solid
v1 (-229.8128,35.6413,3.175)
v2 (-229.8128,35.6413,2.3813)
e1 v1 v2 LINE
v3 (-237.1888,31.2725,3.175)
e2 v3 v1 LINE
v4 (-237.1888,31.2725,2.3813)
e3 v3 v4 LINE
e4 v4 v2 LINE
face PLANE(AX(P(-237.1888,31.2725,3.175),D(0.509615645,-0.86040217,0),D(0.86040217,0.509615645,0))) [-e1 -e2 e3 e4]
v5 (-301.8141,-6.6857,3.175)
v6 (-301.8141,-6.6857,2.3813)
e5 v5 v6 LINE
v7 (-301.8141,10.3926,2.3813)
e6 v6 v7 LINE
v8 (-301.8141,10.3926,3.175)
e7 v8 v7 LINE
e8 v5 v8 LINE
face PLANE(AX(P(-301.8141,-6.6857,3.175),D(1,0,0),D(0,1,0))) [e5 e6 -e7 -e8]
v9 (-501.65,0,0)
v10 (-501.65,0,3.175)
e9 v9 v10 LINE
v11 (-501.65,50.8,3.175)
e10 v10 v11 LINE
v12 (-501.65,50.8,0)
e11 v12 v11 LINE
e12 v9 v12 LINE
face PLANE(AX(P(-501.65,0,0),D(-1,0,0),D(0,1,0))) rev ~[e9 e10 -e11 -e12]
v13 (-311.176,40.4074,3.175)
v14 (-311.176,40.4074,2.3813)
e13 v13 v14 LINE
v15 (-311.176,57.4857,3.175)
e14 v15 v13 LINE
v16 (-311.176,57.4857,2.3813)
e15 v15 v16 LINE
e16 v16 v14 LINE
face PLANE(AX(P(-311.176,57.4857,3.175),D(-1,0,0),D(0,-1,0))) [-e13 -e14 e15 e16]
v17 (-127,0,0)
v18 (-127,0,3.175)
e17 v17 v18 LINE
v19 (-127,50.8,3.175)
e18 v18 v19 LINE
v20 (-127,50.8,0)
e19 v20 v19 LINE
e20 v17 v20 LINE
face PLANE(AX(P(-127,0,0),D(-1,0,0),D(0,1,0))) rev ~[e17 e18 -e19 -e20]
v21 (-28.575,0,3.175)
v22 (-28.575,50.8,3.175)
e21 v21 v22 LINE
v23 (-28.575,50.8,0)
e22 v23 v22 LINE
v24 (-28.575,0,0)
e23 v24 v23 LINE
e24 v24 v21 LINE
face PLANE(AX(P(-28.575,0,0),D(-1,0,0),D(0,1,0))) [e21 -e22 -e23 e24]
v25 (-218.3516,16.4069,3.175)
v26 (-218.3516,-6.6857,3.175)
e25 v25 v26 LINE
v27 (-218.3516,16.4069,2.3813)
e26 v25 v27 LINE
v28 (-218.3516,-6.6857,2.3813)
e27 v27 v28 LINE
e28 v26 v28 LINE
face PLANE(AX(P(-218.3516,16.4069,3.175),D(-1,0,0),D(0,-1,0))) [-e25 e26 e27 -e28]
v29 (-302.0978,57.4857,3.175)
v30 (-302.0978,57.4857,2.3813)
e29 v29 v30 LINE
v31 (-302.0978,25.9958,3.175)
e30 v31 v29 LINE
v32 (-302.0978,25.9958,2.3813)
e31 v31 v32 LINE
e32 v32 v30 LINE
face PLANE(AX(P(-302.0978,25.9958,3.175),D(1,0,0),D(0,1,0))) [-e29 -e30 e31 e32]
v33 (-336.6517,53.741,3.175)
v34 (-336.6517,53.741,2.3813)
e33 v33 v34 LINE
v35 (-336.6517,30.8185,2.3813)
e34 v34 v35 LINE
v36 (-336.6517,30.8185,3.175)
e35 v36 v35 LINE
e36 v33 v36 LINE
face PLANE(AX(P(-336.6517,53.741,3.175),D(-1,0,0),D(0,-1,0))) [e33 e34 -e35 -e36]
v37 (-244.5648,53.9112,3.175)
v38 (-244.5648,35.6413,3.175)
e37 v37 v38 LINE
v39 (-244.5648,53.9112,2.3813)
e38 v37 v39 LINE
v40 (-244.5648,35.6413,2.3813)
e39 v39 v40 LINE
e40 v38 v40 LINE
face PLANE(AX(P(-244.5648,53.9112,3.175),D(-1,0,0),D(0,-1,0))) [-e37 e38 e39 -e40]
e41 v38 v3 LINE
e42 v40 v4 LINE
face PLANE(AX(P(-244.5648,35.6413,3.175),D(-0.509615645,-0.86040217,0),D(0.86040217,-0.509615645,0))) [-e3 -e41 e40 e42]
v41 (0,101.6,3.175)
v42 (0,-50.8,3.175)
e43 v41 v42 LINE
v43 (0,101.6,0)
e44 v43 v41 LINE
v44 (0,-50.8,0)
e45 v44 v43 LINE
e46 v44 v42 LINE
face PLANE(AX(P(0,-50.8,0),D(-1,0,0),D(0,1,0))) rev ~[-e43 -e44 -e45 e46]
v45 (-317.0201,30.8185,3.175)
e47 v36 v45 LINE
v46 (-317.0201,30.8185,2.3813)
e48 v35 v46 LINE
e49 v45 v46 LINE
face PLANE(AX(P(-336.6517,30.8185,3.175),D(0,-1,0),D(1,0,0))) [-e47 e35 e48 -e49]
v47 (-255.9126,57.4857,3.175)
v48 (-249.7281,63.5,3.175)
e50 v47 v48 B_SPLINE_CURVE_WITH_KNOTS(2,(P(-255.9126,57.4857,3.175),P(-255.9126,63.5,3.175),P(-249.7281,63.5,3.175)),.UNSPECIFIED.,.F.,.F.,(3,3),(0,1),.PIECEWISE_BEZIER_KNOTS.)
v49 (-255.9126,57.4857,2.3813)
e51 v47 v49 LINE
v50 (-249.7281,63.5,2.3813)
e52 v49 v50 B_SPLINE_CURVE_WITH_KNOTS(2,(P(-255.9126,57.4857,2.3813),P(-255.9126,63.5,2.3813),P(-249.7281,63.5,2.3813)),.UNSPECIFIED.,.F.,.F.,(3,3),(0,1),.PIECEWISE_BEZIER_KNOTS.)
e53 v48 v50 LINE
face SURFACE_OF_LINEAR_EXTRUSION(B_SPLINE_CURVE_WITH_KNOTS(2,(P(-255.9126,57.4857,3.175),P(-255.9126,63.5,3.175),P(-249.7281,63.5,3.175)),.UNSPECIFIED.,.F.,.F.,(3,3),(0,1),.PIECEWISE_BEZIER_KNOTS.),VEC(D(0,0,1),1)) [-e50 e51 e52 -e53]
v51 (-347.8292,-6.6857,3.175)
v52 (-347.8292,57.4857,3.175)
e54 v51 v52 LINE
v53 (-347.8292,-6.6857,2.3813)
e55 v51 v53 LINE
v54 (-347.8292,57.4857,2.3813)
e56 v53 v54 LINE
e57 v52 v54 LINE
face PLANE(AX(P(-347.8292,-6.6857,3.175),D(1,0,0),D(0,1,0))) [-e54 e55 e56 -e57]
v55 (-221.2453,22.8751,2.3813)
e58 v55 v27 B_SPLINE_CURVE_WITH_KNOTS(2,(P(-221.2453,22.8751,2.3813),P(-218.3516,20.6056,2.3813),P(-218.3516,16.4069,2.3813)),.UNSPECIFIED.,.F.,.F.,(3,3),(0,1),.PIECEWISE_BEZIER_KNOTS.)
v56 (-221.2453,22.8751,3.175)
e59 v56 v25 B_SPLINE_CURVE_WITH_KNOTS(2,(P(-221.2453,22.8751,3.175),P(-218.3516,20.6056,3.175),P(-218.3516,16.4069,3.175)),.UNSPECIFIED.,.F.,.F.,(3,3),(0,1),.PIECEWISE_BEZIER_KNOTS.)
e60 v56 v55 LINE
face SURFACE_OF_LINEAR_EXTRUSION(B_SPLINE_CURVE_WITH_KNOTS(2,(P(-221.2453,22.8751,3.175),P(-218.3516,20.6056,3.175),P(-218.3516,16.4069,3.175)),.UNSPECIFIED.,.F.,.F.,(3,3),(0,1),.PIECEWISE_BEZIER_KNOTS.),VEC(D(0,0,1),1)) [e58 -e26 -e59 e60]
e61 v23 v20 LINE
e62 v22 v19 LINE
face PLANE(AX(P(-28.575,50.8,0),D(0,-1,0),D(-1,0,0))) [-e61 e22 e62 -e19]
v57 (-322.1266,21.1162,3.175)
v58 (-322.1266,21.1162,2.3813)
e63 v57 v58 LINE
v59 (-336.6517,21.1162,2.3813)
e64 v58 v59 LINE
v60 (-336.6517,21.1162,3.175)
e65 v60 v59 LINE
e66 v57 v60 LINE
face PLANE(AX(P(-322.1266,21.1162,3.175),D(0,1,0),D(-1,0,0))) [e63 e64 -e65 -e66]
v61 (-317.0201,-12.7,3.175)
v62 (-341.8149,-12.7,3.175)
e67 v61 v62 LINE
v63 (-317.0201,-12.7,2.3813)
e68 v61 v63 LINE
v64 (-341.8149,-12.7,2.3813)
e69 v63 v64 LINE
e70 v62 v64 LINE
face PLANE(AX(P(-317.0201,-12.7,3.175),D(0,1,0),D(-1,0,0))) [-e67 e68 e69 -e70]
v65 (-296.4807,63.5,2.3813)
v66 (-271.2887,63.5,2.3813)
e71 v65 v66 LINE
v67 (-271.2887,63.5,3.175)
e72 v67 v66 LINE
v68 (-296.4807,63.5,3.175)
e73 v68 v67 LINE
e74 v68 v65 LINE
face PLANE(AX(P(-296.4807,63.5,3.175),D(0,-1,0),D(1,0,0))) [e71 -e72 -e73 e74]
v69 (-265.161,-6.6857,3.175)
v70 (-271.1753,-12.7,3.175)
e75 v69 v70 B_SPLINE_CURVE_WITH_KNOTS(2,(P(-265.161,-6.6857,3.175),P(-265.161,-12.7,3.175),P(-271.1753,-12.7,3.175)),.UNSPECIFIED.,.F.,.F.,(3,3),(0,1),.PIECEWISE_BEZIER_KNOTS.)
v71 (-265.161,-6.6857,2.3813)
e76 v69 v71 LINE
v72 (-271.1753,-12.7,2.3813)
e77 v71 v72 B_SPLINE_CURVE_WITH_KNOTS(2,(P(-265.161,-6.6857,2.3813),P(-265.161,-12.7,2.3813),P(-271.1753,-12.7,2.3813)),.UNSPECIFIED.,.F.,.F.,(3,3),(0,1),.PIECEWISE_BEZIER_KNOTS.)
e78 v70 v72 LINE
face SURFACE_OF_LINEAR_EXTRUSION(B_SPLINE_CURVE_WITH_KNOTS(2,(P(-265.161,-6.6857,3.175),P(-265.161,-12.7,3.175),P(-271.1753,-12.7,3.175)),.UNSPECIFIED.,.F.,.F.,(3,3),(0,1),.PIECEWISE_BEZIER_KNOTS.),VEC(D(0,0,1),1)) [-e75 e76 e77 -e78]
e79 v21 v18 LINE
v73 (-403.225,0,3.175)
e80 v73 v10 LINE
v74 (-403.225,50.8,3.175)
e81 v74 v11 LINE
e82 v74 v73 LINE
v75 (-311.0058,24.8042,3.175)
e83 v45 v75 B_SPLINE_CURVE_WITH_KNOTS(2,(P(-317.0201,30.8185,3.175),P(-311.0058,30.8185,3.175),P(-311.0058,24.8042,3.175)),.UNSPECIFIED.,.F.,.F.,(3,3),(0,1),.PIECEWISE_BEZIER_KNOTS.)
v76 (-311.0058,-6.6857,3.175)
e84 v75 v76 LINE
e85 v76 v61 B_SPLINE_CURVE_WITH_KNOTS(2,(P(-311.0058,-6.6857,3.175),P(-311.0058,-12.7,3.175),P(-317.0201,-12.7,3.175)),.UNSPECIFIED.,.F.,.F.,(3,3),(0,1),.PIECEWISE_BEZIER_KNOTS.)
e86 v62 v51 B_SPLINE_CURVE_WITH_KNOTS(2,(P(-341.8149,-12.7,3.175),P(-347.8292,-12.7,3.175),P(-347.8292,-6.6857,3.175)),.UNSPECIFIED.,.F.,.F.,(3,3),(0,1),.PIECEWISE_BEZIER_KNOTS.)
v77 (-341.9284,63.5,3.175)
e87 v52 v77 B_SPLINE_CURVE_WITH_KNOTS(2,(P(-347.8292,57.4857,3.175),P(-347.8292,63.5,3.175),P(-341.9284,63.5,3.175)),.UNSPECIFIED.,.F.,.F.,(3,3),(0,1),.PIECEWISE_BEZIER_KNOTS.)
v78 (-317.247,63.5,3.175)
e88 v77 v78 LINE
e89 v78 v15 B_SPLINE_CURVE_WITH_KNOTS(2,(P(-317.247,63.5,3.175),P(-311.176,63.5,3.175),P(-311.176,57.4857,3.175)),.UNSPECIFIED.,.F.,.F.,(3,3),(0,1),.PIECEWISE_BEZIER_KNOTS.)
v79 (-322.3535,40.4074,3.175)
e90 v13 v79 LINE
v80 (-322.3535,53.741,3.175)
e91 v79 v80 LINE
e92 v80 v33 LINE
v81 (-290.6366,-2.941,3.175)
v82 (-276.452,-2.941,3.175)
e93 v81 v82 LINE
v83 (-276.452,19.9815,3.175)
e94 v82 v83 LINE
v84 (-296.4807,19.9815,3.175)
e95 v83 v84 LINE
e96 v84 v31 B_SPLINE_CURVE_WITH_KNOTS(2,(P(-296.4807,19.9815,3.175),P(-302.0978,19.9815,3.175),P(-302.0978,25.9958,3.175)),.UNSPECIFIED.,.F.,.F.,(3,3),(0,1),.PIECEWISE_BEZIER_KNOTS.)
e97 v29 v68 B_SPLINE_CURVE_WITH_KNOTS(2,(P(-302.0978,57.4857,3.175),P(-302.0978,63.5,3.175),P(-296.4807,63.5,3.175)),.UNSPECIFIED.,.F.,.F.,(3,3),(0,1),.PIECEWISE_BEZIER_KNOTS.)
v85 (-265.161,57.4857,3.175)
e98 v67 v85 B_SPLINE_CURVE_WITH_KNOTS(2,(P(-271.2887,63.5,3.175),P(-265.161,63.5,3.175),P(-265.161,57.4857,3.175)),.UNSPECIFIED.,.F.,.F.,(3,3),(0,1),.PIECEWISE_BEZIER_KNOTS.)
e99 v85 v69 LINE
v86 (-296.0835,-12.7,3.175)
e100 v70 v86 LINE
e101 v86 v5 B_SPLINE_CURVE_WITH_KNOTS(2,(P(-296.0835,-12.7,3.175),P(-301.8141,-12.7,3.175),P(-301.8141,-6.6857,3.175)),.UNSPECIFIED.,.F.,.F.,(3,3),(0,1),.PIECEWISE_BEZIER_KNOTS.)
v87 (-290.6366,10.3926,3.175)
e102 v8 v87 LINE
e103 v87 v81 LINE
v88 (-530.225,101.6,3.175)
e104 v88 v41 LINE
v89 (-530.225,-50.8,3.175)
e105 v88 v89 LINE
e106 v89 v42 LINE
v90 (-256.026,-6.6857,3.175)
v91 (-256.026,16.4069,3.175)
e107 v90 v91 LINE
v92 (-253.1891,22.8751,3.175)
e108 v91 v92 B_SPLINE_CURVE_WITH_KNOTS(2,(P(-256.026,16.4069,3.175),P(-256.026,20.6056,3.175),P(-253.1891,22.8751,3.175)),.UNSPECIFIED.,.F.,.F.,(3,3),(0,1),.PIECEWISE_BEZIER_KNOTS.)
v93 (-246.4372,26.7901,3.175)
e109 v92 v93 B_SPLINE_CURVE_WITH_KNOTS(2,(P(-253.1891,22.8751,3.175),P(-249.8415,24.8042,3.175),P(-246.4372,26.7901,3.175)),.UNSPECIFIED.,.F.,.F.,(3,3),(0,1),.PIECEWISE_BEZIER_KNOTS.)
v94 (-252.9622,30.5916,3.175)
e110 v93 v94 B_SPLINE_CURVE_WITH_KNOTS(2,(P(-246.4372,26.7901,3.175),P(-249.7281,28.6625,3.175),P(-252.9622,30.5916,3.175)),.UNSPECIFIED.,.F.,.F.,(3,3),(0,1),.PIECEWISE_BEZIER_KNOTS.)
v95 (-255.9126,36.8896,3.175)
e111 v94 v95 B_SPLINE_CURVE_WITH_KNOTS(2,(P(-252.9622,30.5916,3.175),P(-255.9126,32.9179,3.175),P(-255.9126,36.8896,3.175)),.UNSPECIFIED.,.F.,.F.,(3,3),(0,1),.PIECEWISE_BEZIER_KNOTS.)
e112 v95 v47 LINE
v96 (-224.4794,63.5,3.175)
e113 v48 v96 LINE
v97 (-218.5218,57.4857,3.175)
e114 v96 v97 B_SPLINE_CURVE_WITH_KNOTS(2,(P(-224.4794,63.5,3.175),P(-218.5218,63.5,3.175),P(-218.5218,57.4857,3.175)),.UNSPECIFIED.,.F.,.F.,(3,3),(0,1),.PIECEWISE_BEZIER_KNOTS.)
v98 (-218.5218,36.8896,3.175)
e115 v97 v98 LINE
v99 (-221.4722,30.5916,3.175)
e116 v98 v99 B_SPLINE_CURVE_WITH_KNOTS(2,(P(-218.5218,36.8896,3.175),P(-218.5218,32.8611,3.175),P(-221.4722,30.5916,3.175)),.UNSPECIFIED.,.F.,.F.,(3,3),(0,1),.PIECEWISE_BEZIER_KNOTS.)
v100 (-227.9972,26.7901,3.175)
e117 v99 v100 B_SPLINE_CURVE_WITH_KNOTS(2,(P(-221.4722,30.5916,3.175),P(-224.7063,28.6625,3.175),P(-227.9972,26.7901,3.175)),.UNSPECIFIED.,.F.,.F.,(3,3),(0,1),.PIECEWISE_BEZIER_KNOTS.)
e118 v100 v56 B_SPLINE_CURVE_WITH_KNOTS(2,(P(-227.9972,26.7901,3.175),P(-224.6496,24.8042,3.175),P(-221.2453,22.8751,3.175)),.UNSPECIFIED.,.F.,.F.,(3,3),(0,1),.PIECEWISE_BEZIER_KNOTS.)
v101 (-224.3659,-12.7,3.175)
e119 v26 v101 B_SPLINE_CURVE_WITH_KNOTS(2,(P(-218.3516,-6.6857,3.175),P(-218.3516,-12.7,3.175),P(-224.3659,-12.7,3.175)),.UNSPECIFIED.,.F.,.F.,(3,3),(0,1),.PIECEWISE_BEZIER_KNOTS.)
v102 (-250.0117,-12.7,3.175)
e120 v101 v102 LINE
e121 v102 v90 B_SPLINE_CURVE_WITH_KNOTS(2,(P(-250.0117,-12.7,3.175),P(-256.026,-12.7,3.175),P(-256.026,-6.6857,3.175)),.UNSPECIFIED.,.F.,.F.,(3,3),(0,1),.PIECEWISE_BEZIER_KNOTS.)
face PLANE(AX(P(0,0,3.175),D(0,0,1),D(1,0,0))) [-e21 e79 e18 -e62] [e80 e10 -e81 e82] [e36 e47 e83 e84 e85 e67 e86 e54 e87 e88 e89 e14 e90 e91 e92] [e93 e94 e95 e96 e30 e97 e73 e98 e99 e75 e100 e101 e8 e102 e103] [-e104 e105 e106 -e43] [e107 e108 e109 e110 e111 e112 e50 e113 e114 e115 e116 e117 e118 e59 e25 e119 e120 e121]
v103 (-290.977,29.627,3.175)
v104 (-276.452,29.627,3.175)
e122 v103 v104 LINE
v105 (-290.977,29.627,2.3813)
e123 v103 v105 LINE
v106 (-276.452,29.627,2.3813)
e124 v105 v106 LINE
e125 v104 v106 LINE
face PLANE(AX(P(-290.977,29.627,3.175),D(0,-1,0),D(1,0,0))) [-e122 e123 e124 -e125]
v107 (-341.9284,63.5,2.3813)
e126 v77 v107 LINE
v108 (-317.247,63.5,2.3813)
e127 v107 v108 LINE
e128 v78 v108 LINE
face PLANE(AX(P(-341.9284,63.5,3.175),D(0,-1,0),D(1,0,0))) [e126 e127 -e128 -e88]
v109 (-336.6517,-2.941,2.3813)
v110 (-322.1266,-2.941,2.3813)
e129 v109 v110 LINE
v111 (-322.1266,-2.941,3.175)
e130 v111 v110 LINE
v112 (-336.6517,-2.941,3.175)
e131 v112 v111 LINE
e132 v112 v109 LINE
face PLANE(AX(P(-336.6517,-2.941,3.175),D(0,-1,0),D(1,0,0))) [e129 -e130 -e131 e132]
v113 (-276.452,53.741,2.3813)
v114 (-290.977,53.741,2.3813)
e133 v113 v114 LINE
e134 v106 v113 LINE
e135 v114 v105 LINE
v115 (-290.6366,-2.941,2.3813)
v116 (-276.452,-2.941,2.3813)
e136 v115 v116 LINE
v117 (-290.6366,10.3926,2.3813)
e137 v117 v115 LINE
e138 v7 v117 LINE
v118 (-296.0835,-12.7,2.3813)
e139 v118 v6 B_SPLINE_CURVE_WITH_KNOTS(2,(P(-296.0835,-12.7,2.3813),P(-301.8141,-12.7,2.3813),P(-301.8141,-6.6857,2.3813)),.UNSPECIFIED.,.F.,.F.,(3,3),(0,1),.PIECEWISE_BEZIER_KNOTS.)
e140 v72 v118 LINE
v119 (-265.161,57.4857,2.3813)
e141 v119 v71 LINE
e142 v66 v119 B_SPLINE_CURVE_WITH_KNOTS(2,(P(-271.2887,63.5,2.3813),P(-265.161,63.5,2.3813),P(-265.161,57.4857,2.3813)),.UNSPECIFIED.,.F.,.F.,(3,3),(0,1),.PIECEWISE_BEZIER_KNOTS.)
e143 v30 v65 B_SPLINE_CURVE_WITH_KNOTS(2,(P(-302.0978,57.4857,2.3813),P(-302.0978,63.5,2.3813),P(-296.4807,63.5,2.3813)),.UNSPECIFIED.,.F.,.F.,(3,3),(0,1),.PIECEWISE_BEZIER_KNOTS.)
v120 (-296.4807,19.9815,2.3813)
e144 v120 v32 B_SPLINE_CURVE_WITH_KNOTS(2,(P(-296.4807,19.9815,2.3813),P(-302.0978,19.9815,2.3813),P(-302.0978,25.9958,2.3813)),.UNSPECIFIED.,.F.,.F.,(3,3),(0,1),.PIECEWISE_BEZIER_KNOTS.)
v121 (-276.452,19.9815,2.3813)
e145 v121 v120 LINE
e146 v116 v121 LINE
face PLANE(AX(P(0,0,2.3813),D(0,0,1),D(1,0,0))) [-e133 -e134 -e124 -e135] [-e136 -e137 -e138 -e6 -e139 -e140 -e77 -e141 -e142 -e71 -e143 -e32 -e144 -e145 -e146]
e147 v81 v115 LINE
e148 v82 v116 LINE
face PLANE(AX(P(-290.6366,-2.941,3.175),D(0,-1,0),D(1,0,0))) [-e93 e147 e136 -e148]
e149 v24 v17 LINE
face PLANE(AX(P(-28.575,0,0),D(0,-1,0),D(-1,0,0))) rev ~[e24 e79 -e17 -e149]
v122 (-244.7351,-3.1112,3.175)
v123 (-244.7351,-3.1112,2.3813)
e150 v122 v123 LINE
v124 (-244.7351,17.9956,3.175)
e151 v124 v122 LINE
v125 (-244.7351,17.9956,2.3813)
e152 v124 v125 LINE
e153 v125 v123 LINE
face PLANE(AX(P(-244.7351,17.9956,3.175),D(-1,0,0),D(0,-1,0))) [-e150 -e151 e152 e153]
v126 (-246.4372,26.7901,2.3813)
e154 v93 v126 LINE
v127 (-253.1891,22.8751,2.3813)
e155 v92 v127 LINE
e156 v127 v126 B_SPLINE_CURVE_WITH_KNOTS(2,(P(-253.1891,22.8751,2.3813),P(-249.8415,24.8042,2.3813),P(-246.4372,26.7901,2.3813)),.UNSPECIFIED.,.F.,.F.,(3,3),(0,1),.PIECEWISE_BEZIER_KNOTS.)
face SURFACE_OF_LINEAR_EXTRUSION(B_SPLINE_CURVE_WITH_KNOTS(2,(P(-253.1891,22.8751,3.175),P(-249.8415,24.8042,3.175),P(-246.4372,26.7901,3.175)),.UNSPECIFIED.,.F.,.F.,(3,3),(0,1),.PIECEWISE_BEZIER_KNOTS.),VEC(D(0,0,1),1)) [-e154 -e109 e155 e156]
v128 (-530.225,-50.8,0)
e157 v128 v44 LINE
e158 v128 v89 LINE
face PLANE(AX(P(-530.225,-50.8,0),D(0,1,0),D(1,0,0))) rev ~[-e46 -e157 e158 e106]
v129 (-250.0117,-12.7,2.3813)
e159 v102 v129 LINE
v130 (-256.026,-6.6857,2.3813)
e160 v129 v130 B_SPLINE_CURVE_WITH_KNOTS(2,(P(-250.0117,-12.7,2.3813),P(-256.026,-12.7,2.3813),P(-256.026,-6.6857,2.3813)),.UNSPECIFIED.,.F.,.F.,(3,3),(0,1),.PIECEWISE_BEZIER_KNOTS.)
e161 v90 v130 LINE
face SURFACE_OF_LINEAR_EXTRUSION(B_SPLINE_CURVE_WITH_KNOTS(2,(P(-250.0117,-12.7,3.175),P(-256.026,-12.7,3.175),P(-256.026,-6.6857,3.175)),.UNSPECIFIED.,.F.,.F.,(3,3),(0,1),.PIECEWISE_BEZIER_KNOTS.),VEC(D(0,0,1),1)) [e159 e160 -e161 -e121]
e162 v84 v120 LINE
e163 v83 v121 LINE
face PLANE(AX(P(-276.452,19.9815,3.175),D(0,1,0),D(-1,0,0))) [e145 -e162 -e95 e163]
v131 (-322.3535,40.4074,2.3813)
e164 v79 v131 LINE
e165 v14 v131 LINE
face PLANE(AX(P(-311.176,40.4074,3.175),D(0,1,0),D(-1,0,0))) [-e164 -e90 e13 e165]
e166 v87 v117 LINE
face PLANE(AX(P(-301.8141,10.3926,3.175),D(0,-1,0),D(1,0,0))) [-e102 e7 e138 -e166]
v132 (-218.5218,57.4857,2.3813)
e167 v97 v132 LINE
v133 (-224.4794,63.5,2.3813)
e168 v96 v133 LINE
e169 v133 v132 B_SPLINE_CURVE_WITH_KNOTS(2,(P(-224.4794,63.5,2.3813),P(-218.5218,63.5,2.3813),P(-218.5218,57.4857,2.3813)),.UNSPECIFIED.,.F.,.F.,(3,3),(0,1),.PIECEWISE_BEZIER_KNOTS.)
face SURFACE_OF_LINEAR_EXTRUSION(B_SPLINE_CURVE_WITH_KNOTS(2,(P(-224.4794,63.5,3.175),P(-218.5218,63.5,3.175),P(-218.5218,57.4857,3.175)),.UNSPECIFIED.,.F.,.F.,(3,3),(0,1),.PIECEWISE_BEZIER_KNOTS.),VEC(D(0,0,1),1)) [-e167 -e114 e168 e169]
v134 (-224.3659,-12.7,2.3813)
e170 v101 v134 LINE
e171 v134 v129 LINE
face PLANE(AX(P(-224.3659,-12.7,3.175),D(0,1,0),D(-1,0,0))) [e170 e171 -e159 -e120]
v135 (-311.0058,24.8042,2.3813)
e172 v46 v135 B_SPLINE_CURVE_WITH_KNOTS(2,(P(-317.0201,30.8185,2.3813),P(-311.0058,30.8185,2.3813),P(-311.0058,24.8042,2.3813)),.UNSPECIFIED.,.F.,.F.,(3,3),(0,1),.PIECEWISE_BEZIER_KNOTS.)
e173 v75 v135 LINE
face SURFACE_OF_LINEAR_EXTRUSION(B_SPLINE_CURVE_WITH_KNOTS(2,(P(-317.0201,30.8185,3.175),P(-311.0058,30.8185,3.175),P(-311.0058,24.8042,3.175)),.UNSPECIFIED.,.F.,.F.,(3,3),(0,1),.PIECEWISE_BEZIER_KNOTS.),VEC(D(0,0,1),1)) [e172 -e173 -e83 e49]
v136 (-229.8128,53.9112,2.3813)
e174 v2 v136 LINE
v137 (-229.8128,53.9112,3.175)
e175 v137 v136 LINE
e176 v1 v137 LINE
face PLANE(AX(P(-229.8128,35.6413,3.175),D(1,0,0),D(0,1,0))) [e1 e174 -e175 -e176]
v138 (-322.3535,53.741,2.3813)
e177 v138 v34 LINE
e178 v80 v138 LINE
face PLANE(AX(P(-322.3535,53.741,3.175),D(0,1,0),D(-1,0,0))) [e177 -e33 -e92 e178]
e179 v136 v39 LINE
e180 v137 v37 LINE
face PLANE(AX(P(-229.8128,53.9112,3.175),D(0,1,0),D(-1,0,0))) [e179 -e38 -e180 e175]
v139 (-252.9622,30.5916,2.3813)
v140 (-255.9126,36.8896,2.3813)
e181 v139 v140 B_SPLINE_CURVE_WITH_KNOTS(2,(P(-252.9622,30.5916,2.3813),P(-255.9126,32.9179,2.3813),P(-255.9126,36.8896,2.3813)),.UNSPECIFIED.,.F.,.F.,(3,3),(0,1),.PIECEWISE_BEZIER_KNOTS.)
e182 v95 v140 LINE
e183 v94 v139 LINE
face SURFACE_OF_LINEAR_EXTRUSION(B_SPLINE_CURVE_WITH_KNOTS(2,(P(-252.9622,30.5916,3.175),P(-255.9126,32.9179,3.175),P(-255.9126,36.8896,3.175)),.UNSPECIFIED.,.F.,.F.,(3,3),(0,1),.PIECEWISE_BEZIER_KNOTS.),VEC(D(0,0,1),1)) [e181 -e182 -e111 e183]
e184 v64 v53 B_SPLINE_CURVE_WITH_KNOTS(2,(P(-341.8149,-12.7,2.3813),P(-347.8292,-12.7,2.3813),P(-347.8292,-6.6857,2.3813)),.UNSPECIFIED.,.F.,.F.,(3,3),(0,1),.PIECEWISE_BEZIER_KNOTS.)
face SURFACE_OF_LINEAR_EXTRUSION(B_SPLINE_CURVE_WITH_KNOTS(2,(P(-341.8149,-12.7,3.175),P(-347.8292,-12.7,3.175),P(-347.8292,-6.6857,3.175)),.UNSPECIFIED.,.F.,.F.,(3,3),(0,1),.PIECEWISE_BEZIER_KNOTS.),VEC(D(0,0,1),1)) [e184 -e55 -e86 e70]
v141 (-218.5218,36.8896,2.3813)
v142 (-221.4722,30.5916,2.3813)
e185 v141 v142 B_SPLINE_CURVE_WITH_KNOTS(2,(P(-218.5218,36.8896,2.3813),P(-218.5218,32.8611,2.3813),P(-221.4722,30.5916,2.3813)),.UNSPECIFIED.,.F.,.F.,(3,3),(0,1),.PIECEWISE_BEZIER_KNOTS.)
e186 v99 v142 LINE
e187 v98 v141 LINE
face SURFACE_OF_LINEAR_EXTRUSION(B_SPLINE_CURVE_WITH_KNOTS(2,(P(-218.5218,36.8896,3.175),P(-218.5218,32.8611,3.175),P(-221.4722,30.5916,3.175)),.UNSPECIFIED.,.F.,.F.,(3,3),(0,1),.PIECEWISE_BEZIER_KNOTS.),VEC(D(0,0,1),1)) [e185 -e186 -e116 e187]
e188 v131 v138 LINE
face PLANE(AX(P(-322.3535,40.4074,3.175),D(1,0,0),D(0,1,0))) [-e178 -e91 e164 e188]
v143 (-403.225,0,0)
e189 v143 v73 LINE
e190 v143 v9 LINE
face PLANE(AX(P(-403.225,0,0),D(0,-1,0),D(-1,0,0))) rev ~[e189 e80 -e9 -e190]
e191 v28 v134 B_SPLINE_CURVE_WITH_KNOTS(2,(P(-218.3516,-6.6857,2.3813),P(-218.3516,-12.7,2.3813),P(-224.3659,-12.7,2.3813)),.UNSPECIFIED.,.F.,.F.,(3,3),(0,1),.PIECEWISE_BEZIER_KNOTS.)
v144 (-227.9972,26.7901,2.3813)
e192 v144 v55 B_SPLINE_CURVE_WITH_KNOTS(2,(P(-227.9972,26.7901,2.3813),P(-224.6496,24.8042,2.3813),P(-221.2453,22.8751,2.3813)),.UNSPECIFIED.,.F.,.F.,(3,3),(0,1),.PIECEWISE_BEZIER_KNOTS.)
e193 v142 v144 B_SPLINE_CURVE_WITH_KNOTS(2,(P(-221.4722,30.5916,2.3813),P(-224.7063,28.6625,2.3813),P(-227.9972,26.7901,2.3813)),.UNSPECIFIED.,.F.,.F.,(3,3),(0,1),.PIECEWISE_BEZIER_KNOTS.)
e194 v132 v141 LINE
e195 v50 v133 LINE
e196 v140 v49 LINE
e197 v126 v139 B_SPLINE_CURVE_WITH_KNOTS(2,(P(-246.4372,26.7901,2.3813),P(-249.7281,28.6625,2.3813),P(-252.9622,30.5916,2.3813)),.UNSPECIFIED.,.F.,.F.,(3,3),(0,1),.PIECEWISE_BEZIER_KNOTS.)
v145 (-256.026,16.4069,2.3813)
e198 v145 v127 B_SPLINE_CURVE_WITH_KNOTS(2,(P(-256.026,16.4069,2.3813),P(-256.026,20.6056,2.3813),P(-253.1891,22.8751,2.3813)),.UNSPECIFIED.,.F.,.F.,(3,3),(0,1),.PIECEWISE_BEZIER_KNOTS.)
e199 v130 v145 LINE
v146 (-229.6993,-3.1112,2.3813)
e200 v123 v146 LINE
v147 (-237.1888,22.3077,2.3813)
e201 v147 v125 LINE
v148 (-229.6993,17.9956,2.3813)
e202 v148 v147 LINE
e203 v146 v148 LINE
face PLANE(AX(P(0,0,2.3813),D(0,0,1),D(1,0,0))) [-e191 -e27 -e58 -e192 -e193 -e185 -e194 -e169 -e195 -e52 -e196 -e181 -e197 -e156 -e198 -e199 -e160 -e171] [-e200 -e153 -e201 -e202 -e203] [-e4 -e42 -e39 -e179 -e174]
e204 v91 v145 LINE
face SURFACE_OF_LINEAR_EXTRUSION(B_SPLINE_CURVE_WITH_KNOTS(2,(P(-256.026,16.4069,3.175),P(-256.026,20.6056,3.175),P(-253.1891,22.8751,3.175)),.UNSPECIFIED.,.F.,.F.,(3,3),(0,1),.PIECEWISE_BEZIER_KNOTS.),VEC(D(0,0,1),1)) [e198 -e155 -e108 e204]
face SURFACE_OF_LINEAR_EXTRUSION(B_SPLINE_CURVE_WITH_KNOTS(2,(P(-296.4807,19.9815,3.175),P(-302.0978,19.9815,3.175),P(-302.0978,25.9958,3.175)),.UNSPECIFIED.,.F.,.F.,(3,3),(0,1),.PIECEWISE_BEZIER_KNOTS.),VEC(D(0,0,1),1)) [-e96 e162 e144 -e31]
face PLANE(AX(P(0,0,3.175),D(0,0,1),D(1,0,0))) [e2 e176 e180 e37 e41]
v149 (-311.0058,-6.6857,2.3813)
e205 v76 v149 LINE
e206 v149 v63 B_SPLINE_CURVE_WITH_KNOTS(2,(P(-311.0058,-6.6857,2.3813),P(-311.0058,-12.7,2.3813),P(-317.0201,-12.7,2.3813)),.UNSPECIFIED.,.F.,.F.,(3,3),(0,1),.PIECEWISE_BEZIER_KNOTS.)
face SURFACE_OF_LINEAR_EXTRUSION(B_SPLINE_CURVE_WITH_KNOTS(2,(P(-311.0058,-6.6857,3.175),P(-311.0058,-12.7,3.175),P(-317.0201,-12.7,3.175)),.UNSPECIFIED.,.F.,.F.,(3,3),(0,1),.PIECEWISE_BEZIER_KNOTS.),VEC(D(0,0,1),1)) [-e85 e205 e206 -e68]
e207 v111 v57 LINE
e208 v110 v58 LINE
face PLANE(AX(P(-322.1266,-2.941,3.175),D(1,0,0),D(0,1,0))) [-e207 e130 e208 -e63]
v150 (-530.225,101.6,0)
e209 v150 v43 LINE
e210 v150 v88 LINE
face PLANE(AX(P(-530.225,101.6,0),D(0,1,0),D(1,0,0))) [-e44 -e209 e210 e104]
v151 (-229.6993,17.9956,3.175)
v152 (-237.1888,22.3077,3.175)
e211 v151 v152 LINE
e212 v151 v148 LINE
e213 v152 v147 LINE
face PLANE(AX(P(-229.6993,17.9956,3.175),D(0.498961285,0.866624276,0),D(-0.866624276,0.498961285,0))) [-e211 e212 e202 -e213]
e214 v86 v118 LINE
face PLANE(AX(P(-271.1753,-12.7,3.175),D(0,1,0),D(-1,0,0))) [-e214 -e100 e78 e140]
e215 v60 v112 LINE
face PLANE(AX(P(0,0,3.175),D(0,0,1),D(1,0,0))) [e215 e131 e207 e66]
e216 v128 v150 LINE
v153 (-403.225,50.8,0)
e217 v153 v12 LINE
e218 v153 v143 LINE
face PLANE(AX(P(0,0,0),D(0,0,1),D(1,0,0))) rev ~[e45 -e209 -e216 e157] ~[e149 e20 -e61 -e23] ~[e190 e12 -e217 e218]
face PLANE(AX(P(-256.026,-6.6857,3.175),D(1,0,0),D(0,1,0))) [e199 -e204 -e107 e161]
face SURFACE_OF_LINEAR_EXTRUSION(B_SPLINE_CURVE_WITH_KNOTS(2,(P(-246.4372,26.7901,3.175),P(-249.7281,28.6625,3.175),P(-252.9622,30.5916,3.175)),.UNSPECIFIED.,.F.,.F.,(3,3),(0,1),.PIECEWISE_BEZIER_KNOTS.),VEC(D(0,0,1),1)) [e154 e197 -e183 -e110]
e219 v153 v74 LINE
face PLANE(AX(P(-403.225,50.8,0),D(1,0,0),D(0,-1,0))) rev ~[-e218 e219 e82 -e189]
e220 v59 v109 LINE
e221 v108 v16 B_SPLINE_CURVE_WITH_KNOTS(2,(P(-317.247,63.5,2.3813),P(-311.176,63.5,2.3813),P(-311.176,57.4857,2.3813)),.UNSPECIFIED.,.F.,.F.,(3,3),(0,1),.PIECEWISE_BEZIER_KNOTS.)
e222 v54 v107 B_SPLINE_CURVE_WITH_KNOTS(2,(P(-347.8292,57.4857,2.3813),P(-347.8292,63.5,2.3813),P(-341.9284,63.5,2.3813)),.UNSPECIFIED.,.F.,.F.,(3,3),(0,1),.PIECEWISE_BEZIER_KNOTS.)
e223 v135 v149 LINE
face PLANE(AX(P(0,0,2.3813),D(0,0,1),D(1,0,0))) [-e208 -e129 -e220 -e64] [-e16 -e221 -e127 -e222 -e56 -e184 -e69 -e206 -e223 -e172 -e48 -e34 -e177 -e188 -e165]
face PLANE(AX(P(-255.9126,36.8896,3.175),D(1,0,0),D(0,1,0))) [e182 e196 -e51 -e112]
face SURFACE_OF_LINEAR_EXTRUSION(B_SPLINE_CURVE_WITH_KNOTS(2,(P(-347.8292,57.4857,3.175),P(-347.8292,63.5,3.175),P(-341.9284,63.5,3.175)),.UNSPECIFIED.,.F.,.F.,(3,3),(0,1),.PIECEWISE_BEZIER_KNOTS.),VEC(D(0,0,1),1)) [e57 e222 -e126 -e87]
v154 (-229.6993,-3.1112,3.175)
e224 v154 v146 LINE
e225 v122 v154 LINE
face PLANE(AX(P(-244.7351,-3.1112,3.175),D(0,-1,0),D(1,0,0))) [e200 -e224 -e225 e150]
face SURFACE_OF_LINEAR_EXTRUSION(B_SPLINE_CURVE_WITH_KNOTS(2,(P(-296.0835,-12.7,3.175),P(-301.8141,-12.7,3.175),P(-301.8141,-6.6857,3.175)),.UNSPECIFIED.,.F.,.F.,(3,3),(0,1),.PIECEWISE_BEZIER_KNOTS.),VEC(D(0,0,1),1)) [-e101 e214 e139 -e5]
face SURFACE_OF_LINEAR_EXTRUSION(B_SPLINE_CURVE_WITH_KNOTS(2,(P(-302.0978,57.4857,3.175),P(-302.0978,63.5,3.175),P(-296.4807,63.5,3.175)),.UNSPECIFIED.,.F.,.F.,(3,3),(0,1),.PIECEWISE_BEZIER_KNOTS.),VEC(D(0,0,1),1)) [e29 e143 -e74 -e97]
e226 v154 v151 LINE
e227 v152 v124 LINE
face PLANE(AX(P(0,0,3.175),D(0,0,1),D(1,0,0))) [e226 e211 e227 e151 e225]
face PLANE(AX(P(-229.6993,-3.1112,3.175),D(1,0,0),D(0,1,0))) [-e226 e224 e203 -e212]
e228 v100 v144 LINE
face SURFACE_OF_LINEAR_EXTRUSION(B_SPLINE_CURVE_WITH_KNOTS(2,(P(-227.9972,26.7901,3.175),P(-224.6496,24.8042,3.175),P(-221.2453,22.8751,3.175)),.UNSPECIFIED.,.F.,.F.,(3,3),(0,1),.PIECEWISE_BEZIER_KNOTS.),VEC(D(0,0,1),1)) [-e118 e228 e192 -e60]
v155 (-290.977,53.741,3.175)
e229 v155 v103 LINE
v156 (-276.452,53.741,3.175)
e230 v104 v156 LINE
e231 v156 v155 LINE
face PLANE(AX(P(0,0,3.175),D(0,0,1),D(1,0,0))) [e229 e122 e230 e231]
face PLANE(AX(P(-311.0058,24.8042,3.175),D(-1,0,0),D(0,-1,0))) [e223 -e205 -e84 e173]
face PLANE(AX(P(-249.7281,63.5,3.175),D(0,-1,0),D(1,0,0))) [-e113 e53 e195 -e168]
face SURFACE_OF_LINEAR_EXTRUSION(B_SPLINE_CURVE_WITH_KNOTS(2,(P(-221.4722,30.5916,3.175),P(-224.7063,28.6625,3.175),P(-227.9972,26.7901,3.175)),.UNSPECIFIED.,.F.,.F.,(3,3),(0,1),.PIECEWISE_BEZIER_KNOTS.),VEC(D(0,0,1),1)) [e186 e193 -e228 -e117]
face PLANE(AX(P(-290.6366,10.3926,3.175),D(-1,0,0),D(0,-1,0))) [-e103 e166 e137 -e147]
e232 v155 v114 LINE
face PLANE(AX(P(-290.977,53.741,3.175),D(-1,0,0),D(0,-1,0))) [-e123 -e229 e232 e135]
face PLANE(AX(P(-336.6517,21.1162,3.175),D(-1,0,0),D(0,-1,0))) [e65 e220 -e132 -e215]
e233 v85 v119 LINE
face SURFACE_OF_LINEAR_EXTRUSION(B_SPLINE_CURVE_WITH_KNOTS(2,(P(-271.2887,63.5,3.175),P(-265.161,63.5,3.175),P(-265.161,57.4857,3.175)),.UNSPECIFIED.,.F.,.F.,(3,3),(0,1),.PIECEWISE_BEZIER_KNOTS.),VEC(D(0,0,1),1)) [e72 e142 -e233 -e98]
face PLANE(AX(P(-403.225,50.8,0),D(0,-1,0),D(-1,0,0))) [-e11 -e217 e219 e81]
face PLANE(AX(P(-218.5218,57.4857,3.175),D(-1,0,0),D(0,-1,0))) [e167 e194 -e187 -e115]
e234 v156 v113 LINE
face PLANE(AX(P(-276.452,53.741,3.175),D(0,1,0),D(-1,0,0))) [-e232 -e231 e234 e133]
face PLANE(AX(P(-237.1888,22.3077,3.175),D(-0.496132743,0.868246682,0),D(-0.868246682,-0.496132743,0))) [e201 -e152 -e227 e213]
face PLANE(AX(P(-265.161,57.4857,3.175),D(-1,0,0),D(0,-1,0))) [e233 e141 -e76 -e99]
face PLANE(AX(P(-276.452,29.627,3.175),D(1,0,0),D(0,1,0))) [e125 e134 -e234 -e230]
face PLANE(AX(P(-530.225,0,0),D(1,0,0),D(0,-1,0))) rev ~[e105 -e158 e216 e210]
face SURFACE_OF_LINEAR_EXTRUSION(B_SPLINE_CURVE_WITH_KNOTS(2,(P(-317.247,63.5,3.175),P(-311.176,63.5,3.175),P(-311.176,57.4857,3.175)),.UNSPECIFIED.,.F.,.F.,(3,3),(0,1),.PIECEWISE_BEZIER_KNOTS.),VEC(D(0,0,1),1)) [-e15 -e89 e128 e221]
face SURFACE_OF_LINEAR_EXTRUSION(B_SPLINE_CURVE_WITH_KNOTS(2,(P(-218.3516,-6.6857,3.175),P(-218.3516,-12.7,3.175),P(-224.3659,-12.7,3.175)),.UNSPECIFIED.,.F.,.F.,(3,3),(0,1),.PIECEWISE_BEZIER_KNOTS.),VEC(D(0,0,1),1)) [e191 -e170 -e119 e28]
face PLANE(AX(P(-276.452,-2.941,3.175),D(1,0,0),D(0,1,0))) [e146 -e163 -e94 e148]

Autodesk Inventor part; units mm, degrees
ref_plane "YZ Plane" through (0, 0, 0) normal (1, 0, 0) x (0, 1, 0)
ref_plane "XZ Plane" through (0, 0, 0) normal (0, 1, 0) x (-1, 0, 0)
ref_plane "XY Plane" through (0, 0, 0) normal (0, 0, 1) x (1, 0, 0)
sketch "Sketch1" plane through (0, 0, 0) normal (0, 0, 1) x (1, 0, 0)
  line L0 (0, 0) -> (-530.225, 0)
  line L1 (-530.225, 0) -> (-530.225, -50.8)
  line L2 (-530.225, -50.8) -> (0, -50.8)
  line L3 (0, -50.8) -> (0, 0)
  line L4 (-403.225, 0) -> (-127, 0)
  line L5 (-127, 0) -> (-127, 50.8)
  line L6 (-127, 50.8) -> (-403.225, 50.8)
  line L7 (-403.225, 50.8) -> (-403.225, 0)
  line L8 (0, 50.8) -> (-530.225, 50.8)
  line L9 (-530.225, 50.8) -> (-530.225, 101.6)
  line L10 (-530.225, 101.6) -> (0, 101.6)
  line L11 (0, 101.6) -> (0, 50.8)
  line L12 (-530.225, 0) -> (-501.65, 0)
  line L13 (-501.65, 0) -> (-501.65, 50.8)
  line L14 (-501.65, 50.8) -> (-530.225, 50.8)
  line L15 (-530.225, 50.8) -> (-530.225, 0)
  line L16 (0, 0) -> (-28.575, 0)
  line L17 (-28.575, 0) -> (-28.575, 50.8)
  line L18 (-28.575, 50.8) -> (0, 50.8)
  line L19 (0, 50.8) -> (0, 0)
  dimension "d0" = 530.225
  dimension "d1" = 50.8
  dimension "d2" = 50.8
  dimension "d3" = 127
  dimension "d4" = 127
  dimension "d5" = 50.8
  dimension "d6" = 530.225
  dimension "d7" = 0
  dimension "d8" = 50.8
  dimension "d9" = 28.575
  dimension "d10" = 28.575
extrude "Extrusion1" add sketch "Sketch1" along normal blind 3.175 contours L3 L2 L1 L0 | L0 L17 L8 L19 | L8 L6 L9 L10 L11 | L0 L7 L6 L5 | L15 L8 L13 L0
sketch "Sketch2" plane through (0, 0, 3.175) normal (0, 0, 1) x (1, 0, 0)
  line L0 (-352.425, 63.5) -> (-177.8, 63.5) construction
  line L1 (-177.8, 63.5) -> (-177.8, -1.2974) construction
  line L2 (-177.8, -1.2974) -> (-352.425, -1.2974) construction
  line L3 (-352.425, -1.2974) -> (-352.425, 63.5) construction
  line L4 (-403.225, 50.8) -> (-403.225, 0) projected
  line L5 (-127, 0) -> (-127, 50.8) projected
  line L6 (0, 101.6) -> (-530.225, 101.6) projected
  spline S0 degree 2 poles (-311.0058, -6.6857) (-311.0058, -12.7) (-317.0201, -12.7) knots 0 0 0 1 1 1
  line L7 (-317.0201, -12.7) -> (-341.8149, -12.7)
  spline S1 degree 2 poles (-341.8149, -12.7) (-347.8292, -12.7) (-347.8292, -6.6857) knots 0 0 0 1 1 1
  line L8 (-347.8292, -6.6857) -> (-347.8292, 57.4857)
  spline S2 degree 2 poles (-347.8292, 57.4857) (-347.8292, 63.5) (-341.9284, 63.5) knots 0 0 0 1 1 1
  line L9 (-341.9284, 63.5) -> (-317.247, 63.5)
  spline S3 degree 2 poles (-317.247, 63.5) (-311.176, 63.5) (-311.176, 57.4857) knots 0 0 0 1 1 1
  line L10 (-311.176, 57.4857) -> (-311.176, 40.4074)
  line L11 (-311.176, 40.4074) -> (-322.3535, 40.4074)
  line L12 (-322.3535, 40.4074) -> (-322.3535, 53.741)
  line L13 (-322.3535, 53.741) -> (-336.6517, 53.741)
  line L14 (-336.6517, 53.741) -> (-336.6517, 30.8185)
  line L15 (-336.6517, 30.8185) -> (-317.0201, 30.8185)
  spline S4 degree 2 poles (-317.0201, 30.8185) (-311.0058, 30.8185) (-311.0058, 24.8042) knots 0 0 0 1 1 1
  line L16 (-311.0058, 24.8042) -> (-311.0058, -6.6857)
  line L17 (-322.1266, -2.941) -> (-322.1266, 21.1162)
  line L18 (-322.1266, 21.1162) -> (-336.6517, 21.1162)
  line L19 (-336.6517, 21.1162) -> (-336.6517, -2.941)
  line L20 (-336.6517, -2.941) -> (-322.1266, -2.941)
  spline S5 degree 2 poles (-265.161, -6.6857) (-265.161, -12.7) (-271.1753, -12.7) knots 0 0 0 1 1 1
  line L21 (-271.1753, -12.7) -> (-296.0835, -12.7)
  spline S6 degree 2 poles (-296.0835, -12.7) (-301.8141, -12.7) (-301.8141, -6.6857) knots 0 0 0 1 1 1
  line L22 (-301.8141, -6.6857) -> (-301.8141, 10.3926)
  line L23 (-301.8141, 10.3926) -> (-290.6366, 10.3926)
  line L24 (-290.6366, 10.3926) -> (-290.6366, -2.941)
  line L25 (-290.6366, -2.941) -> (-276.452, -2.941)
  line L26 (-276.452, -2.941) -> (-276.452, 19.9815)
  line L27 (-276.452, 19.9815) -> (-296.4807, 19.9815)
  spline S7 degree 2 poles (-296.4807, 19.9815) (-302.0978, 19.9815) (-302.0978, 25.9958) knots 0 0 0 1 1 1
  line L28 (-302.0978, 25.9958) -> (-302.0978, 57.4857)
  spline S8 degree 2 poles (-302.0978, 57.4857) (-302.0978, 63.5) (-296.4807, 63.5) knots 0 0 0 1 1 1
  line L29 (-296.4807, 63.5) -> (-271.2887, 63.5)
  spline S9 degree 2 poles (-271.2887, 63.5) (-265.161, 63.5) (-265.161, 57.4857) knots 0 0 0 1 1 1
  line L30 (-265.161, 57.4857) -> (-265.161, -6.6857)
  line L31 (-276.452, 29.627) -> (-276.452, 53.741)
  line L32 (-276.452, 53.741) -> (-290.977, 53.741)
  line L33 (-290.977, 53.741) -> (-290.977, 29.627)
  line L34 (-290.977, 29.627) -> (-276.452, 29.627)
  spline S10 degree 2 poles (-218.3516, -6.6857) (-218.3516, -12.7) (-224.3659, -12.7) knots 0 0 0 1 1 1
  line L35 (-224.3659, -12.7) -> (-250.0117, -12.7)
  spline S11 degree 2 poles (-250.0117, -12.7) (-256.026, -12.7) (-256.026, -6.6857) knots 0 0 0 1 1 1
  line L36 (-256.026, -6.6857) -> (-256.026, 16.4069)
  spline S12 degree 2 poles (-256.026, 16.4069) (-256.026, 20.6056) (-253.1891, 22.8751) knots 0 0 0 1 1 1
  spline S13 degree 2 poles (-253.1891, 22.8751) (-249.8415, 24.8042) (-246.4372, 26.7901) knots 0 0 0 1 1 1
  spline S14 degree 2 poles (-246.4372, 26.7901) (-249.7281, 28.6625) (-252.9622, 30.5916) knots 0 0 0 1 1 1
  spline S15 degree 2 poles (-252.9622, 30.5916) (-255.9126, 32.9179) (-255.9126, 36.8896) knots 0 0 0 1 1 1
  line L37 (-255.9126, 36.8896) -> (-255.9126, 57.4857)
  spline S16 degree 2 poles (-255.9126, 57.4857) (-255.9126, 63.5) (-249.7281, 63.5) knots 0 0 0 1 1 1
  line L38 (-249.7281, 63.5) -> (-224.4794, 63.5)
  spline S17 degree 2 poles (-224.4794, 63.5) (-218.5218, 63.5) (-218.5218, 57.4857) knots 0 0 0 1 1 1
  line L39 (-218.5218, 57.4857) -> (-218.5218, 36.8896)
  spline S18 degree 2 poles (-218.5218, 36.8896) (-218.5218, 32.8611) (-221.4722, 30.5916) knots 0 0 0 1 1 1
  spline S19 degree 2 poles (-221.4722, 30.5916) (-224.7063, 28.6625) (-227.9972, 26.7901) knots 0 0 0 1 1 1
  spline S20 degree 2 poles (-227.9972, 26.7901) (-224.6496, 24.8042) (-221.2453, 22.8751) knots 0 0 0 1 1 1
  spline S21 degree 2 poles (-221.2453, 22.8751) (-218.3516, 20.6056) (-218.3516, 16.4069) knots 0 0 0 1 1 1
  line L40 (-218.3516, 16.4069) -> (-218.3516, -6.6857)
  line L41 (-229.6993, -3.1112) -> (-229.6993, 17.9956)
  line L42 (-229.6993, 17.9956) -> (-237.1888, 22.3077)
  line L43 (-237.1888, 22.3077) -> (-244.7351, 17.9956)
  line L44 (-244.7351, 17.9956) -> (-244.7351, -3.1112)
  line L45 (-244.7351, -3.1112) -> (-229.6993, -3.1112)
  line L46 (-229.8128, 35.6413) -> (-229.8128, 53.9112)
  line L47 (-229.8128, 53.9112) -> (-244.5648, 53.9112)
  line L48 (-244.5648, 53.9112) -> (-244.5648, 35.6413)
  line L49 (-244.5648, 35.6413) -> (-237.1888, 31.2725)
  line L50 (-237.1888, 31.2725) -> (-229.8128, 35.6413)
  point P0 (0, 0)
  dimension "d13" = 50.8
  dimension "d14" = 50.8
  dimension "d15" = 38.1
extrude "Extrusion2" cut sketch "Sketch2" against normal blind 0.7937
sketch "Sketch3" plane through (0, 0, 3.175) normal (0, 0, 1) x (1, 0, 0)
  point P0 (0, 0)
properties part number "upper Ramp"
